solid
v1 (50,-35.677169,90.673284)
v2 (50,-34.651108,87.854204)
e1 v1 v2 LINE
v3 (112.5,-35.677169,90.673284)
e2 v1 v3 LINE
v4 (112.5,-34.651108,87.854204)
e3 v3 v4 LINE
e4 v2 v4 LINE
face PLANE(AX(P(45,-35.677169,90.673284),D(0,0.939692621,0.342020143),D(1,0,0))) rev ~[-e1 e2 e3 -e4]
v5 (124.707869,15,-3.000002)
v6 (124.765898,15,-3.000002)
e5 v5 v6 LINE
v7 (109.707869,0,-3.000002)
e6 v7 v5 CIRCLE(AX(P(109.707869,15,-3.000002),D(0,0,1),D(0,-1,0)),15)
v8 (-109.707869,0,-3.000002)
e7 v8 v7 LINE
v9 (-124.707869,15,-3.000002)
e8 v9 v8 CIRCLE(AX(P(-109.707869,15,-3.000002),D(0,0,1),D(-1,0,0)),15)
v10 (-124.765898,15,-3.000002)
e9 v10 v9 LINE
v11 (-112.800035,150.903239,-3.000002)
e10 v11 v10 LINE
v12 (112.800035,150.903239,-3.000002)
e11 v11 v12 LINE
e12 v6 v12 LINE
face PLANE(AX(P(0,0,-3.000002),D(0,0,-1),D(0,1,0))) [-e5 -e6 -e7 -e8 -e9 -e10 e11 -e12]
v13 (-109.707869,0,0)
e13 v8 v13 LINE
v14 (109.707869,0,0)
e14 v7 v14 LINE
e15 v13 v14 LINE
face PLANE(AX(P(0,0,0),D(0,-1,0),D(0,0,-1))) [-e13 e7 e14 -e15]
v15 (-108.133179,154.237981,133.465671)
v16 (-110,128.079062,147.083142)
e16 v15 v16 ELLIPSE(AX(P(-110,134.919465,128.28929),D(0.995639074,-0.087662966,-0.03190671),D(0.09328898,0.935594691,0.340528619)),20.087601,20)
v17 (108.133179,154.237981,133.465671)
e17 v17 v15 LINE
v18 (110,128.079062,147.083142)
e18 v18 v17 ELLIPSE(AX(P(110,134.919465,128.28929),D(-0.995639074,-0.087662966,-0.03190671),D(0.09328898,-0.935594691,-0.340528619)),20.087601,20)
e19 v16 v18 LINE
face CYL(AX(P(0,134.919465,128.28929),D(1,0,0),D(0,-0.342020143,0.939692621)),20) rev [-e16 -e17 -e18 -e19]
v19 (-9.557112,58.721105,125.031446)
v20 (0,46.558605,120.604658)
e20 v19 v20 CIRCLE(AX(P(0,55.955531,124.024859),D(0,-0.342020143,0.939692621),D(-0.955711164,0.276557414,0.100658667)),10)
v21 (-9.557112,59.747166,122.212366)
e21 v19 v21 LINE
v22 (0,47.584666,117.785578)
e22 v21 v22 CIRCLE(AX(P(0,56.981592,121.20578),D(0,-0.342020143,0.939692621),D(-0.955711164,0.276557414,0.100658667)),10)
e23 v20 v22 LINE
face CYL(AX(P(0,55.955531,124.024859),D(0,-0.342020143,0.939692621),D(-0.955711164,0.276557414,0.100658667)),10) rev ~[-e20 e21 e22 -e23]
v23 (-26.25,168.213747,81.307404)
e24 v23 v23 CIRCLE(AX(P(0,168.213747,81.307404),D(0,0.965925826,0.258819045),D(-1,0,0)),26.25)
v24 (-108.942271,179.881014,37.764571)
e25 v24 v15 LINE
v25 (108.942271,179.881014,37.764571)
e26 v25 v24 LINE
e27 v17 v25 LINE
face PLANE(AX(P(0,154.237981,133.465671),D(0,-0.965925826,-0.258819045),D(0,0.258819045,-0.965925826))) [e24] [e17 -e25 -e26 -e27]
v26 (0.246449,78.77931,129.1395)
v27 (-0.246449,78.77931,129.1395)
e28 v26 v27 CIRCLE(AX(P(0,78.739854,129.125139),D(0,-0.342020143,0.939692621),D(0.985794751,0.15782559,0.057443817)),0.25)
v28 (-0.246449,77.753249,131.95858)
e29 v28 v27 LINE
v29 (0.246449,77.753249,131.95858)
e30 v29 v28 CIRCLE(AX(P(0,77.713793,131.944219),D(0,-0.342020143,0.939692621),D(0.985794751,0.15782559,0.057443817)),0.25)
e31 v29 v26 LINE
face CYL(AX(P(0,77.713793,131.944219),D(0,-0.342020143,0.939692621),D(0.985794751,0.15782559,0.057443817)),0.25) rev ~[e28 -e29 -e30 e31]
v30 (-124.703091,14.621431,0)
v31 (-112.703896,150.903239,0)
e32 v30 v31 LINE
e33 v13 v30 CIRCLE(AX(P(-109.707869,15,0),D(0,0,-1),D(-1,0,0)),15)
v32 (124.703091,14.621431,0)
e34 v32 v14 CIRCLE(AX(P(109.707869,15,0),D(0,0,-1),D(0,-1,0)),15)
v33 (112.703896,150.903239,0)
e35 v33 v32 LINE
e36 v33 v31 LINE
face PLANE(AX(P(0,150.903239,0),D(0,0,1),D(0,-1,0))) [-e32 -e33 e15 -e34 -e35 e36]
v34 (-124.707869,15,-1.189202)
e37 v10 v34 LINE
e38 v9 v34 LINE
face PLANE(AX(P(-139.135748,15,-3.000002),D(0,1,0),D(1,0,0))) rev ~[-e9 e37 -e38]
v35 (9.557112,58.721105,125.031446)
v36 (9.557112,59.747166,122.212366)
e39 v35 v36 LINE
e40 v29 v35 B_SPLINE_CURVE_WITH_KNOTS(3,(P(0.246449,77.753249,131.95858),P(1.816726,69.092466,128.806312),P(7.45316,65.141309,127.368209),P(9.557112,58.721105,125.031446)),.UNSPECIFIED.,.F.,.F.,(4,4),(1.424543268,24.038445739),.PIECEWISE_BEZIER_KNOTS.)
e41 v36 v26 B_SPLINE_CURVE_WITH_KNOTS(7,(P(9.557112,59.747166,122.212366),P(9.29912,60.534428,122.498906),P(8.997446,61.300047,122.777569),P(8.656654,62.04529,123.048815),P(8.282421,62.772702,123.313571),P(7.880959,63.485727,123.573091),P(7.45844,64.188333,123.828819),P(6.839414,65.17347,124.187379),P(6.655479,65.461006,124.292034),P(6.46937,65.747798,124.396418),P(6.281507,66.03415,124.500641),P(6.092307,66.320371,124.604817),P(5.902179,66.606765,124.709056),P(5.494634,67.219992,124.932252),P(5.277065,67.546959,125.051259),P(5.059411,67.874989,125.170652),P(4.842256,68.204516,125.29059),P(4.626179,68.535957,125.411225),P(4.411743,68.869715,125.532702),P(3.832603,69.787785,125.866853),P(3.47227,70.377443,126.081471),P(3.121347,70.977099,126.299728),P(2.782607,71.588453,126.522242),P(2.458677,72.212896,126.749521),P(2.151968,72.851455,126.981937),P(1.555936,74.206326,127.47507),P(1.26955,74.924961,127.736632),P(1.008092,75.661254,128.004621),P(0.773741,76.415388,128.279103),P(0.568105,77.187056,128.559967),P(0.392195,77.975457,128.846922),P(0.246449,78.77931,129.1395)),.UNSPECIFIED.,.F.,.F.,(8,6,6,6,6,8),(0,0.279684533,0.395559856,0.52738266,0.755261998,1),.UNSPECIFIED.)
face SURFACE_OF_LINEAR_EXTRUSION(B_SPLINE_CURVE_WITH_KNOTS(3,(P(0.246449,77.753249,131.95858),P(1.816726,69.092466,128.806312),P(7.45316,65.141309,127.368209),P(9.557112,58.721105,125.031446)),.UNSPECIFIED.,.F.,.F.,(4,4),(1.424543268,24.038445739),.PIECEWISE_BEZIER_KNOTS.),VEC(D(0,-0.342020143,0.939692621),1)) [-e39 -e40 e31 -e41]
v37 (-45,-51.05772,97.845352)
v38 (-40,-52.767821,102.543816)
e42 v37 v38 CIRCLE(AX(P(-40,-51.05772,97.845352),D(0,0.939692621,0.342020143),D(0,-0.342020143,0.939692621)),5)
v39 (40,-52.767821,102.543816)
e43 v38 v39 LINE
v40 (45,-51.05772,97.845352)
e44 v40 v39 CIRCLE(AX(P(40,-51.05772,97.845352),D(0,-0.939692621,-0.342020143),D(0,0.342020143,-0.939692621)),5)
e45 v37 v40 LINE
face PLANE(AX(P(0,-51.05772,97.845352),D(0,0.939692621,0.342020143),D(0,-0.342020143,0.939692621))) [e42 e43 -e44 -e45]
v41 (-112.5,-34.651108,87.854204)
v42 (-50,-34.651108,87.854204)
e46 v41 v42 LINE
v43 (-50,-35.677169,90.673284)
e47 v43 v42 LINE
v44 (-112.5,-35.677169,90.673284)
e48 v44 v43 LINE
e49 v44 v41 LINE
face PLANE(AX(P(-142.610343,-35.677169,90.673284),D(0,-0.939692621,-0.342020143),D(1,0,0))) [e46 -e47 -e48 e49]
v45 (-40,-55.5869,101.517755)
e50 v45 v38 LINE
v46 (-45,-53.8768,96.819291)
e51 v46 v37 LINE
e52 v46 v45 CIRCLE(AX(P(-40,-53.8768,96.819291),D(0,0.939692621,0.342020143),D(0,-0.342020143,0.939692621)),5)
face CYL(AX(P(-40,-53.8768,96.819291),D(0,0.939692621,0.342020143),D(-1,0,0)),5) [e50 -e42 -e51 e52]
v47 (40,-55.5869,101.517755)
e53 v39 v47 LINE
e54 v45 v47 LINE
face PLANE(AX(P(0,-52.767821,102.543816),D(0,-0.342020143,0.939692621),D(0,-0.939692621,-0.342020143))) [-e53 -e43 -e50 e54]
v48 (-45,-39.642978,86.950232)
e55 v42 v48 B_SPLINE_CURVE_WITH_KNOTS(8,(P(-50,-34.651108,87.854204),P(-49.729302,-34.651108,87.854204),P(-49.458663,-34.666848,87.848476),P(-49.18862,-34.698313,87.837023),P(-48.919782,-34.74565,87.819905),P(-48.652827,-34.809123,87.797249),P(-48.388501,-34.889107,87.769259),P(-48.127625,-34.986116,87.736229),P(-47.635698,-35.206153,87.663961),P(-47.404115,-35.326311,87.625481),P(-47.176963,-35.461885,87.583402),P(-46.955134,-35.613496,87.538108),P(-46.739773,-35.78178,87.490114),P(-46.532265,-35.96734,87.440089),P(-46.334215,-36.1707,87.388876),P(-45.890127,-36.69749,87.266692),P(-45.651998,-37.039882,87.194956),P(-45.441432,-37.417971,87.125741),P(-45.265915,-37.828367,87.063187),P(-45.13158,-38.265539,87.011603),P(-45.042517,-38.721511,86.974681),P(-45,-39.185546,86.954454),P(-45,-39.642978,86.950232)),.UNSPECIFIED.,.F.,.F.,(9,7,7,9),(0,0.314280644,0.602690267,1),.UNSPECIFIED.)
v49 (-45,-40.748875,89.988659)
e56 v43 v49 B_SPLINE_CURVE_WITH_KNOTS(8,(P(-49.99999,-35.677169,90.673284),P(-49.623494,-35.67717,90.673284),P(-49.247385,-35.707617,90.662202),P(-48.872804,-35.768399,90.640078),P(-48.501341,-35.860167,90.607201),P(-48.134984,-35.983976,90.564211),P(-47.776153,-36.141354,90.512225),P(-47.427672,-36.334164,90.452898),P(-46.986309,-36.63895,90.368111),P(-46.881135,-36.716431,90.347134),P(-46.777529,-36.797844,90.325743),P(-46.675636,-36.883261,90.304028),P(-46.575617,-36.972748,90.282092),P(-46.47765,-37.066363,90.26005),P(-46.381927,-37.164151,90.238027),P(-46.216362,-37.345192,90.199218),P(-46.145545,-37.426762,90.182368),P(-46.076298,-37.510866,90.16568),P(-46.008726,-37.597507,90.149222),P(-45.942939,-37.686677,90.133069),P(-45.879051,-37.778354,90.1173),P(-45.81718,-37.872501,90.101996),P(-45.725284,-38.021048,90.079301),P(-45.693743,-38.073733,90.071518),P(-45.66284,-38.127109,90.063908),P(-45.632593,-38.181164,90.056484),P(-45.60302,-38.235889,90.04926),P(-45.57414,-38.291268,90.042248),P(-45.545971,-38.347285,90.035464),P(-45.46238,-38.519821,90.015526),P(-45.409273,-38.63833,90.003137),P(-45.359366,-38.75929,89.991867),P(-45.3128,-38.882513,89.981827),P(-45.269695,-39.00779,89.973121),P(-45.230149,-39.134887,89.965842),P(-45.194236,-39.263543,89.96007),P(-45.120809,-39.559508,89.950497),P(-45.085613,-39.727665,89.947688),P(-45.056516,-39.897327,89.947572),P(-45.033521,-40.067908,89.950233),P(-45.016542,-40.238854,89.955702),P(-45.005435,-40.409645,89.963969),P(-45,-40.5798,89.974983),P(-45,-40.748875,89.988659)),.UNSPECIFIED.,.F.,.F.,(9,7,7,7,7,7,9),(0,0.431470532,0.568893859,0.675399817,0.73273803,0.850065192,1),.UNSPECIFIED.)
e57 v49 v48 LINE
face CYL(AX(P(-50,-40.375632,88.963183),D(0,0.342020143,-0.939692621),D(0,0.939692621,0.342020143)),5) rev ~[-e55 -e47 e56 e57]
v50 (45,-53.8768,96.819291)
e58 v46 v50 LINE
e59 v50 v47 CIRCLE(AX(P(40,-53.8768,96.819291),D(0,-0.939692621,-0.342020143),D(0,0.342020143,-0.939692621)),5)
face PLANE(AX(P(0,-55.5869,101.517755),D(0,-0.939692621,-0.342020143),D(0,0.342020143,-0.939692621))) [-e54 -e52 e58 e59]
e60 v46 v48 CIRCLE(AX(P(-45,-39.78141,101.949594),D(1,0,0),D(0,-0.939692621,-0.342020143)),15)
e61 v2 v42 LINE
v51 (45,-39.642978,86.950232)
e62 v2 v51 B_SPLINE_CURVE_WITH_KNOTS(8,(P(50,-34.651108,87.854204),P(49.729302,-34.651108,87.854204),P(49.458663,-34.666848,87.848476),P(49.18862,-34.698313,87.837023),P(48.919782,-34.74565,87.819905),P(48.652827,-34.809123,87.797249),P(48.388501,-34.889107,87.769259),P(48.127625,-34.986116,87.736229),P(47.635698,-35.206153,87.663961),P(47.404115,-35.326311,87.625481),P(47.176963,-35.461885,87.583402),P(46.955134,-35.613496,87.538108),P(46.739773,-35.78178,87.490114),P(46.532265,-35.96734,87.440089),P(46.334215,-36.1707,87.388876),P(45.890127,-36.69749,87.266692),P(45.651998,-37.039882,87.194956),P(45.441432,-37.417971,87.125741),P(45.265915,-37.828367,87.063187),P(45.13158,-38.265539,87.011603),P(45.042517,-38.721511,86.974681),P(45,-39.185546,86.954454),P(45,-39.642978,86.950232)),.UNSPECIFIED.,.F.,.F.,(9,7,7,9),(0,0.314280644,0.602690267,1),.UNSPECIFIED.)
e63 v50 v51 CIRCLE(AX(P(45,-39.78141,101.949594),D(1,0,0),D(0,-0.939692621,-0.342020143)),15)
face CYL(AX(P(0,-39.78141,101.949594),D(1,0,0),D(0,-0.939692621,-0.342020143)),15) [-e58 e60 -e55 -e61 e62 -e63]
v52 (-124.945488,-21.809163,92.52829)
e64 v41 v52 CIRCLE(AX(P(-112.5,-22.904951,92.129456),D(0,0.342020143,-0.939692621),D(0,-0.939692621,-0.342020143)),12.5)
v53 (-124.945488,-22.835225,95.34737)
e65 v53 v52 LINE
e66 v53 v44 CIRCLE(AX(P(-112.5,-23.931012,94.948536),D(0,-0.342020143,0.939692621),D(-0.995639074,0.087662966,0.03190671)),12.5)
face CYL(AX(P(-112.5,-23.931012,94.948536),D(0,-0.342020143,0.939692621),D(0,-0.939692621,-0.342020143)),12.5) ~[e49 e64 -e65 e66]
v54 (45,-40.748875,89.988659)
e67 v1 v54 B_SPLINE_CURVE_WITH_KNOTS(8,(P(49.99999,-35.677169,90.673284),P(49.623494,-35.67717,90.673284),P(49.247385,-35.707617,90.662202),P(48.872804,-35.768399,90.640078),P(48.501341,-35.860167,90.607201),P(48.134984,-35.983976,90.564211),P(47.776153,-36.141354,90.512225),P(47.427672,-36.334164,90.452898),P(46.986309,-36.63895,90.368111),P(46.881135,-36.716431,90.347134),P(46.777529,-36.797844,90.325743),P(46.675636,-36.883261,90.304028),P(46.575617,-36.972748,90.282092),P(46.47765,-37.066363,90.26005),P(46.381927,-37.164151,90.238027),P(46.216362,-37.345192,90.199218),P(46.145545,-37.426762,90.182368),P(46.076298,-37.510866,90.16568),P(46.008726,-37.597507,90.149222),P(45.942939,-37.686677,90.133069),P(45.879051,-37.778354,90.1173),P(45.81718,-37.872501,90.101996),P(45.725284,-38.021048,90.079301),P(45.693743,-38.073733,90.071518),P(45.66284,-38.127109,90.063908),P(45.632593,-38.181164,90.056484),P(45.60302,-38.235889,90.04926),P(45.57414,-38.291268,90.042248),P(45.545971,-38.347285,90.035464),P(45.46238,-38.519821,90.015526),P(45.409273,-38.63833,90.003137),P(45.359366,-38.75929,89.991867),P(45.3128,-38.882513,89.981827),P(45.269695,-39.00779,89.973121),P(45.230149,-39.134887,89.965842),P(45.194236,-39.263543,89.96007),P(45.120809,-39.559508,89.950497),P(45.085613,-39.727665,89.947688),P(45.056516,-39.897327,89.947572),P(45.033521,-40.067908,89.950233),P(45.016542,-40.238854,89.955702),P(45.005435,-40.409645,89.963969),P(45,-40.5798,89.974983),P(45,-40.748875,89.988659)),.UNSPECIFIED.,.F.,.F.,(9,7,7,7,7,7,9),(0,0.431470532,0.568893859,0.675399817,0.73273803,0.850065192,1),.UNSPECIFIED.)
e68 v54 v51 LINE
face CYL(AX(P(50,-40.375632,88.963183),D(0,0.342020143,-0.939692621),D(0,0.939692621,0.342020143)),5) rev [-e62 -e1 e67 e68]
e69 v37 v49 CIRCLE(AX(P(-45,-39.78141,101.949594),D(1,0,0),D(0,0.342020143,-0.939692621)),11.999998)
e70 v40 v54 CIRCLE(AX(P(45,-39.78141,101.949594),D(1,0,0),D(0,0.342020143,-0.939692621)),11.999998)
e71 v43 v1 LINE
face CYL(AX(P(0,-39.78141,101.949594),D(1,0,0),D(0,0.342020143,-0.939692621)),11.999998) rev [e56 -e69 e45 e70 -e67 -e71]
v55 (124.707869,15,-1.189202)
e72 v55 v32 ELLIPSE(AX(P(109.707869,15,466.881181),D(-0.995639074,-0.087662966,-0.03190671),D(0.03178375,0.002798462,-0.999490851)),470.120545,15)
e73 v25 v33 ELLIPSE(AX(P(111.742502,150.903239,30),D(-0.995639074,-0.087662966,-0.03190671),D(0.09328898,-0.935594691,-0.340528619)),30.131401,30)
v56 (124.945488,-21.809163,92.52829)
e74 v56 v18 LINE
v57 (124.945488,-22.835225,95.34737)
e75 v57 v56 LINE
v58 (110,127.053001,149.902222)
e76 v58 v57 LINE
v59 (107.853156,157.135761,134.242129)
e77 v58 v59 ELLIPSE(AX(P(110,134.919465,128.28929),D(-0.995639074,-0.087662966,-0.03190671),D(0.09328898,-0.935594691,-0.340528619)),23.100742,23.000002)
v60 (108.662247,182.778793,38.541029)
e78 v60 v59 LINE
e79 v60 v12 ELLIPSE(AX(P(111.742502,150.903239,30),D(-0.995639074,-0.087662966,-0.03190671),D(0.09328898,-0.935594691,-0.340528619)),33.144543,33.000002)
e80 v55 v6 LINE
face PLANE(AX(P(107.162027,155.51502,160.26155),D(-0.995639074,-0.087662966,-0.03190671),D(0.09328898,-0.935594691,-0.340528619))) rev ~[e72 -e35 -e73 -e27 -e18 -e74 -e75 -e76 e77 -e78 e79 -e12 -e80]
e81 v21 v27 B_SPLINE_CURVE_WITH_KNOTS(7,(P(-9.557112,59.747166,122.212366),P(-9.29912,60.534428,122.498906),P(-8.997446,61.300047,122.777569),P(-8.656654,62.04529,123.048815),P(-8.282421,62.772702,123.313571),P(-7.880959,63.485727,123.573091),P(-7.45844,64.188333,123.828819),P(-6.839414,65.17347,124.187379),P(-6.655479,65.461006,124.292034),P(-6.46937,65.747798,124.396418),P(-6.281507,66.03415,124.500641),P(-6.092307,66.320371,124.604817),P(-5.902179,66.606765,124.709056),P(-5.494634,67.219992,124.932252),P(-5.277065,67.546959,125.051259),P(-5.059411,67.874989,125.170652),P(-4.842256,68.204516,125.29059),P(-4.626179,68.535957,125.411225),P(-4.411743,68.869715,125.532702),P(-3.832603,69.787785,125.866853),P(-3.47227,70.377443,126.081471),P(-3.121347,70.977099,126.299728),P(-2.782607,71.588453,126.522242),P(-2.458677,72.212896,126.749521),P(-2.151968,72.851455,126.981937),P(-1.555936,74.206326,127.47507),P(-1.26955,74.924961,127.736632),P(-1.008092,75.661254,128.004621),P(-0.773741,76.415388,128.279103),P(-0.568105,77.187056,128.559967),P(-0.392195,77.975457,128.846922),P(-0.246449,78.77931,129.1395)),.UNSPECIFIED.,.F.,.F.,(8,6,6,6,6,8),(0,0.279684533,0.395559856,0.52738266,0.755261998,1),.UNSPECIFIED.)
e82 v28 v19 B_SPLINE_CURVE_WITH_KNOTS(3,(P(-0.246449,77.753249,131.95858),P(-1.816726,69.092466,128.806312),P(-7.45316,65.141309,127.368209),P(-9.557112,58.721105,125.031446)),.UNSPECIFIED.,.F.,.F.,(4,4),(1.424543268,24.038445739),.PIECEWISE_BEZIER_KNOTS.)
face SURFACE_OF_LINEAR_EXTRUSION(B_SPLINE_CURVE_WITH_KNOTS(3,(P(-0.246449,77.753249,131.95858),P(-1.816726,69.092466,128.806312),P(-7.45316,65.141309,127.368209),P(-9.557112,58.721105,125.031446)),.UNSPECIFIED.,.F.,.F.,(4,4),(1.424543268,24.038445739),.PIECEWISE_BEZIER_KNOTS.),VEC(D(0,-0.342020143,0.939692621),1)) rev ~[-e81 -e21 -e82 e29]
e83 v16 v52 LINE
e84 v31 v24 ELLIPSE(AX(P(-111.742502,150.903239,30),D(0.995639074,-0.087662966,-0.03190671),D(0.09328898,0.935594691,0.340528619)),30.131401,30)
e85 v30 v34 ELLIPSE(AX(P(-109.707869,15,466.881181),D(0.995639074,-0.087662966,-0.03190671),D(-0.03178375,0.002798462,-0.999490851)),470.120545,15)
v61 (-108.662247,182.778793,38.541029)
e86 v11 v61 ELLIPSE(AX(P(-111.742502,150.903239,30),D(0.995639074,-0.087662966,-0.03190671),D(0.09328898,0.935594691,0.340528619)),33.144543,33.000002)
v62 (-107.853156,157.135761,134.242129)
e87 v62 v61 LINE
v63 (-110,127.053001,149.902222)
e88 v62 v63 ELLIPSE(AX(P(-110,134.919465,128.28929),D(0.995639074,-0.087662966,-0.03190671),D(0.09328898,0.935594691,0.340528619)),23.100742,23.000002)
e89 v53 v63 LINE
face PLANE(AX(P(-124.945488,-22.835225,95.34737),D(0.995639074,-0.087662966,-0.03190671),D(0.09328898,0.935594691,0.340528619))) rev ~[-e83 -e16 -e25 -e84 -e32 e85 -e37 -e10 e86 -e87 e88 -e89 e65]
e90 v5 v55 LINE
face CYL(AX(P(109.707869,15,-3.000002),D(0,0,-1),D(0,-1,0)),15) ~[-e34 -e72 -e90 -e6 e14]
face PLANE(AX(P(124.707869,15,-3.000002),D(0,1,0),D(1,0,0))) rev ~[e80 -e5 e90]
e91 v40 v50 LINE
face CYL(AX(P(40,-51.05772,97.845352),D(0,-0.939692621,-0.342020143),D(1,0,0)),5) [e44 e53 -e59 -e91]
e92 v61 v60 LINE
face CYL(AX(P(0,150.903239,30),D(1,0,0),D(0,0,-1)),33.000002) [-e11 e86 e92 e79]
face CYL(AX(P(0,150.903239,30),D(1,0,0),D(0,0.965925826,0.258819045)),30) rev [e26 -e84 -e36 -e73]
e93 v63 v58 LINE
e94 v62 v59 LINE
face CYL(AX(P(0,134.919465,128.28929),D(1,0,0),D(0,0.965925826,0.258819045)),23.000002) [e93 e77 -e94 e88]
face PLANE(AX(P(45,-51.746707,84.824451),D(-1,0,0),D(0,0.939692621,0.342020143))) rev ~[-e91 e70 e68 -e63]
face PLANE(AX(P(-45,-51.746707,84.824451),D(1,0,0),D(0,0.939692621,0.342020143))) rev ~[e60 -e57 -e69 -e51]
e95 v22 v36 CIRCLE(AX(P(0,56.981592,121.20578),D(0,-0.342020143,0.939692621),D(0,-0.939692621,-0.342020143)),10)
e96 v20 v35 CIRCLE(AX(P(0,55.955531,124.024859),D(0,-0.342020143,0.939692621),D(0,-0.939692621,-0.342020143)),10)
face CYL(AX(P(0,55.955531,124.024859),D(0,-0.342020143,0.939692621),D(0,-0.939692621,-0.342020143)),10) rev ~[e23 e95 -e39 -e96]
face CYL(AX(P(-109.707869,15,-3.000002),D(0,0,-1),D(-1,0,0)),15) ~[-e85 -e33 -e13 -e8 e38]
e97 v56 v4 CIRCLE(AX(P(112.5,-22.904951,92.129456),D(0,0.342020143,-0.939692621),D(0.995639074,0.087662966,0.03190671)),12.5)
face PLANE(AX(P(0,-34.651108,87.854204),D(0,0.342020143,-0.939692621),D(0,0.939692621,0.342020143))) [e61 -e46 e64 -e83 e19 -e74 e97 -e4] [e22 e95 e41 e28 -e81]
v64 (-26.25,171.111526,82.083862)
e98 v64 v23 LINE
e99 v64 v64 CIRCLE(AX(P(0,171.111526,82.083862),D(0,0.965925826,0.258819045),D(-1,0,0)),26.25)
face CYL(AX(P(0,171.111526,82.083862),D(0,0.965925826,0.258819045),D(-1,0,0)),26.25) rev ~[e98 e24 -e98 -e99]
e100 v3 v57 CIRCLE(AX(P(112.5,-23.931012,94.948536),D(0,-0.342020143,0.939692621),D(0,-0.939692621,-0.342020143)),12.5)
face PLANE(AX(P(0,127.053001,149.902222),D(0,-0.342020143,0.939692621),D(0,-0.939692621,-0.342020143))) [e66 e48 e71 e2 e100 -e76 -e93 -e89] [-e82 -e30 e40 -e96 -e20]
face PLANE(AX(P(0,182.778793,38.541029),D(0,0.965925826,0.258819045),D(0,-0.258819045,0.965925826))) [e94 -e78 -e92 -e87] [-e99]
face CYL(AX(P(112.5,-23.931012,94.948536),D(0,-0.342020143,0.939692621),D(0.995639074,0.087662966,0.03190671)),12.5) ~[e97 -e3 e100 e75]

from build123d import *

# Parameters (mm, degrees)
F1_DEPTH  = 125
F2_R      = 26.25
F3_DEPTH  = 25
F4_W      = 97.6103432477
F4_H      = 17.1008444879
F5_DEPTH  = 22.5
F7_DEPTH  = 223
F9_DEPTH  = 25
F10_R     = 5
F12_DEPTH = 25


with BuildPart() as f1:
    # F0 (on Right) → F1 (new body, symmetric)
    with BuildSketch(Plane.YZ):
        with BuildLine():
            Line((150.9032388148, 0), (0, 0))
            Line((0, 0), (0, -3.0000018725))
            Line((0, -3.0000018725), (150.9032388148, -3.0000018725))
            ThreePointArc((150.9032388148, -3.0000018725), (177.0839005299, 9.9108717028), (182.778792891, 38.541028973))
            Line((182.778792891, 38.541028973), (157.1357605543, 134.2421285136))
            ThreePointArc((157.1357605543, 134.2421285136), (145.53968371, 148.6905408156), (127.0530008041, 149.9022220292))
            Line((127.0530008041, 149.9022220292), (-35.6771693401, 90.6732838797))
            ThreePointArc((-35.6771693401, 90.6732838797), (-44.8528287691, 91.0739018222), (-51.0577201094, 97.8453524901))
            Line((-51.0577201094, 97.8453524901), (-52.767820826, 102.543815594))
            Line((-52.767820826, 102.543815594), (-55.586900448, 101.5177545236))
            Line((-55.586900448, 101.5177545236), (-53.8767997313, 96.8192914196))
            ThreePointArc((-53.8767997313, 96.8192914196), (-46.1206843457, 88.354976764), (-34.6511082697, 87.8542042577))
            Line((-34.6511082697, 87.8542042577), (128.0790618745, 147.0831424073))
            ThreePointArc((128.0790618745, 147.0831424073), (144.1544370057, 146.0295066551), (154.2379812668, 133.4656708936))
            Line((154.2379812668, 133.4656708936), (179.8810136034, 37.7645713531))
            ThreePointArc((179.8810136034, 37.7645713531), (174.7038390235, 11.7371571297), (150.9032388148, 0))
        make_face()
    extrude(amount=F1_DEPTH, both=True)

    # F2 (on face) → F3 (cut)
    with BuildSketch(Plane(origin=(0, 180.1701926471, 48.2764576199), x_dir=(-1, 0, 0), z_dir=(0, 0.9659258263, 0.2588190451))):
        with Locations((0, 35)):
            Circle(F2_R)
    extrude(amount=-F3_DEPTH, mode=Mode.SUBTRACT)

    # F4 (on face) → F5 (cut, symmetric)
    with BuildSketch(Plane(origin=(0, -33.3152677142, 91.5329457678), x_dir=(1, 0, 0), z_dir=(0, -0.3420201433, 0.9396926208))):
        with Locations((93.8051716238, -11.063905455)):
            Rectangle(F4_W, F4_H)
        with Locations((-93.8051716238, -11.063905455)):
            Rectangle(F4_W, F4_H)
    extrude(amount=F5_DEPTH, both=True, mode=Mode.SUBTRACT)

    # F6 (on face) → F7 (cut)
    with BuildSketch(Plane(origin=(0, -33.3152677142, 91.5329457678), x_dir=(1, 0, 0), z_dir=(0, -0.3420201433, 0.9396926208))):
        with BuildLine():
            Line((-124.9454884285, 11.1526290369), (-110, 170.6603467676))
            Line((-110, 170.6603467676), (-107.1620267497, 200.9489946296))
            Line((-107.1620267497, 200.9489946296), (-152.5835648179, 200.9489946296))
            Line((-152.5835648179, 200.9489946296), (-152.5835648179, -22.4528324986))
            Line((-152.5835648179, -22.4528324986), (-112.5, -22.4528324986))
            Line((-112.5, -22.4528324986), (-112.5, -2.5134832111))
            ThreePointArc((-112.5, -2.5134832111), (-121.74192629, 1.5700568176), (-124.9454884285, 11.1526290369))
        make_face()
        with BuildLine():
            Line((112.5, -2.5134832111), (112.5, -22.4528324986))
            Line((112.5, -22.4528324986), (152.5835648179, -22.4528324986))
            Line((152.5835648179, -22.4528324986), (152.5835648179, 200.9489946296))
            Line((152.5835648179, 200.9489946296), (107.1620267497, 200.9489946296))
            Line((107.1620267497, 200.9489946296), (110, 170.6603467676))
            Line((110, 170.6603467676), (124.9454884285, 11.1526290369))
            ThreePointArc((124.9454884285, 11.1526290369), (121.74192629, 1.5700568176), (112.5, -2.5134832111))
        make_face()
    extrude(amount=-F7_DEPTH, mode=Mode.SUBTRACT)

    # F8 (on face) → F9 (cut)
    with BuildSketch(Plane(origin=(0, 0, -3.0000018725), x_dir=(1, 0, 0), z_dir=(0, 0, -1))):
        with BuildLine():
            ThreePointArc((-124.7078686175, -15), (-120.3144703352, -4.3933982822), (-109.7078686175, 0))
            Line((-109.7078686175, 0), (-109.7078686175, 1.8405353206))
            Line((-109.7078686175, 1.8405353206), (-139.135748148, 2.5484173093))
            Line((-139.135748148, 2.5484173093), (-139.135748148, -15))
            Line((-139.135748148, -15), (-124.7078686175, -15))
        make_face()
        with BuildLine():
            Line((109.7078686175, 1.8405353206), (109.7078686175, 0))
            ThreePointArc((109.7078686175, 0), (120.3144703352, -4.3933982822), (124.7078686175, -15))
            Line((124.7078686175, -15), (139.135748148, -15))
            Line((139.135748148, -15), (139.135748148, 2.5484173093))
            Line((139.135748148, 2.5484173093), (109.7078686175, 1.8405353206))
        make_face()
    extrude(amount=-F9_DEPTH, mode=Mode.SUBTRACT)

    # F10
    f10_edges = [f1.edges().sort_by_distance(p)[0] for p in [
        (-45, -35.164139, 89.263744),
        (45, -35.164139, 89.263744),
        (45, -54.177361, 102.030785),
        (-45, -54.177361, 102.030785),
    ]]
    fillet(f10_edges, radius=F10_R)

    # F11 (on face) → F12 (cut)
    with BuildSketch(Plane(origin=(0, -33.3152677142, 91.5329457678), x_dir=(1, 0, 0), z_dir=(0, -0.3420201433, 0.9396926208))):
        with BuildLine():
            ThreePointArc((-9.5571116428, 97.9430625287), (-8.0445828135, 89.0599084724), (0, 85))
            ThreePointArc((0, 85), (8.0445828135, 89.0599084724), (9.5571116428, 97.9430625287))
            add(Edge.make_bspline(
                [(0.2464486877, 118.196647138), (1.8167264508, 108.9800336214), (7.4531598076, 104.7753001668), (9.5571116428, 97.9430625287)],
                knots=[1.4245432684, 1.4245432684, 1.4245432684, 1.4245432684, 24.0384457394, 24.0384457394, 24.0384457394, 24.0384457394], degree=3))
            ThreePointArc((0.2464486877, 118.196647138), (0, 118.4046585168), (-0.2464486877, 118.196647138))
            add(Edge.make_bspline(
                [(-0.2464486877, 118.196647138), (-1.8167264508, 108.9800336214), (-7.4531598076, 104.7753001668), (-9.5571116428, 97.9430625287)],
                knots=[1.4245432684, 1.4245432684, 1.4245432684, 1.4245432684, 24.0384457394, 24.0384457394, 24.0384457394, 24.0384457394], degree=3))
        make_face()
    extrude(amount=-F12_DEPTH, mode=Mode.SUBTRACT)


solid = f1.part
